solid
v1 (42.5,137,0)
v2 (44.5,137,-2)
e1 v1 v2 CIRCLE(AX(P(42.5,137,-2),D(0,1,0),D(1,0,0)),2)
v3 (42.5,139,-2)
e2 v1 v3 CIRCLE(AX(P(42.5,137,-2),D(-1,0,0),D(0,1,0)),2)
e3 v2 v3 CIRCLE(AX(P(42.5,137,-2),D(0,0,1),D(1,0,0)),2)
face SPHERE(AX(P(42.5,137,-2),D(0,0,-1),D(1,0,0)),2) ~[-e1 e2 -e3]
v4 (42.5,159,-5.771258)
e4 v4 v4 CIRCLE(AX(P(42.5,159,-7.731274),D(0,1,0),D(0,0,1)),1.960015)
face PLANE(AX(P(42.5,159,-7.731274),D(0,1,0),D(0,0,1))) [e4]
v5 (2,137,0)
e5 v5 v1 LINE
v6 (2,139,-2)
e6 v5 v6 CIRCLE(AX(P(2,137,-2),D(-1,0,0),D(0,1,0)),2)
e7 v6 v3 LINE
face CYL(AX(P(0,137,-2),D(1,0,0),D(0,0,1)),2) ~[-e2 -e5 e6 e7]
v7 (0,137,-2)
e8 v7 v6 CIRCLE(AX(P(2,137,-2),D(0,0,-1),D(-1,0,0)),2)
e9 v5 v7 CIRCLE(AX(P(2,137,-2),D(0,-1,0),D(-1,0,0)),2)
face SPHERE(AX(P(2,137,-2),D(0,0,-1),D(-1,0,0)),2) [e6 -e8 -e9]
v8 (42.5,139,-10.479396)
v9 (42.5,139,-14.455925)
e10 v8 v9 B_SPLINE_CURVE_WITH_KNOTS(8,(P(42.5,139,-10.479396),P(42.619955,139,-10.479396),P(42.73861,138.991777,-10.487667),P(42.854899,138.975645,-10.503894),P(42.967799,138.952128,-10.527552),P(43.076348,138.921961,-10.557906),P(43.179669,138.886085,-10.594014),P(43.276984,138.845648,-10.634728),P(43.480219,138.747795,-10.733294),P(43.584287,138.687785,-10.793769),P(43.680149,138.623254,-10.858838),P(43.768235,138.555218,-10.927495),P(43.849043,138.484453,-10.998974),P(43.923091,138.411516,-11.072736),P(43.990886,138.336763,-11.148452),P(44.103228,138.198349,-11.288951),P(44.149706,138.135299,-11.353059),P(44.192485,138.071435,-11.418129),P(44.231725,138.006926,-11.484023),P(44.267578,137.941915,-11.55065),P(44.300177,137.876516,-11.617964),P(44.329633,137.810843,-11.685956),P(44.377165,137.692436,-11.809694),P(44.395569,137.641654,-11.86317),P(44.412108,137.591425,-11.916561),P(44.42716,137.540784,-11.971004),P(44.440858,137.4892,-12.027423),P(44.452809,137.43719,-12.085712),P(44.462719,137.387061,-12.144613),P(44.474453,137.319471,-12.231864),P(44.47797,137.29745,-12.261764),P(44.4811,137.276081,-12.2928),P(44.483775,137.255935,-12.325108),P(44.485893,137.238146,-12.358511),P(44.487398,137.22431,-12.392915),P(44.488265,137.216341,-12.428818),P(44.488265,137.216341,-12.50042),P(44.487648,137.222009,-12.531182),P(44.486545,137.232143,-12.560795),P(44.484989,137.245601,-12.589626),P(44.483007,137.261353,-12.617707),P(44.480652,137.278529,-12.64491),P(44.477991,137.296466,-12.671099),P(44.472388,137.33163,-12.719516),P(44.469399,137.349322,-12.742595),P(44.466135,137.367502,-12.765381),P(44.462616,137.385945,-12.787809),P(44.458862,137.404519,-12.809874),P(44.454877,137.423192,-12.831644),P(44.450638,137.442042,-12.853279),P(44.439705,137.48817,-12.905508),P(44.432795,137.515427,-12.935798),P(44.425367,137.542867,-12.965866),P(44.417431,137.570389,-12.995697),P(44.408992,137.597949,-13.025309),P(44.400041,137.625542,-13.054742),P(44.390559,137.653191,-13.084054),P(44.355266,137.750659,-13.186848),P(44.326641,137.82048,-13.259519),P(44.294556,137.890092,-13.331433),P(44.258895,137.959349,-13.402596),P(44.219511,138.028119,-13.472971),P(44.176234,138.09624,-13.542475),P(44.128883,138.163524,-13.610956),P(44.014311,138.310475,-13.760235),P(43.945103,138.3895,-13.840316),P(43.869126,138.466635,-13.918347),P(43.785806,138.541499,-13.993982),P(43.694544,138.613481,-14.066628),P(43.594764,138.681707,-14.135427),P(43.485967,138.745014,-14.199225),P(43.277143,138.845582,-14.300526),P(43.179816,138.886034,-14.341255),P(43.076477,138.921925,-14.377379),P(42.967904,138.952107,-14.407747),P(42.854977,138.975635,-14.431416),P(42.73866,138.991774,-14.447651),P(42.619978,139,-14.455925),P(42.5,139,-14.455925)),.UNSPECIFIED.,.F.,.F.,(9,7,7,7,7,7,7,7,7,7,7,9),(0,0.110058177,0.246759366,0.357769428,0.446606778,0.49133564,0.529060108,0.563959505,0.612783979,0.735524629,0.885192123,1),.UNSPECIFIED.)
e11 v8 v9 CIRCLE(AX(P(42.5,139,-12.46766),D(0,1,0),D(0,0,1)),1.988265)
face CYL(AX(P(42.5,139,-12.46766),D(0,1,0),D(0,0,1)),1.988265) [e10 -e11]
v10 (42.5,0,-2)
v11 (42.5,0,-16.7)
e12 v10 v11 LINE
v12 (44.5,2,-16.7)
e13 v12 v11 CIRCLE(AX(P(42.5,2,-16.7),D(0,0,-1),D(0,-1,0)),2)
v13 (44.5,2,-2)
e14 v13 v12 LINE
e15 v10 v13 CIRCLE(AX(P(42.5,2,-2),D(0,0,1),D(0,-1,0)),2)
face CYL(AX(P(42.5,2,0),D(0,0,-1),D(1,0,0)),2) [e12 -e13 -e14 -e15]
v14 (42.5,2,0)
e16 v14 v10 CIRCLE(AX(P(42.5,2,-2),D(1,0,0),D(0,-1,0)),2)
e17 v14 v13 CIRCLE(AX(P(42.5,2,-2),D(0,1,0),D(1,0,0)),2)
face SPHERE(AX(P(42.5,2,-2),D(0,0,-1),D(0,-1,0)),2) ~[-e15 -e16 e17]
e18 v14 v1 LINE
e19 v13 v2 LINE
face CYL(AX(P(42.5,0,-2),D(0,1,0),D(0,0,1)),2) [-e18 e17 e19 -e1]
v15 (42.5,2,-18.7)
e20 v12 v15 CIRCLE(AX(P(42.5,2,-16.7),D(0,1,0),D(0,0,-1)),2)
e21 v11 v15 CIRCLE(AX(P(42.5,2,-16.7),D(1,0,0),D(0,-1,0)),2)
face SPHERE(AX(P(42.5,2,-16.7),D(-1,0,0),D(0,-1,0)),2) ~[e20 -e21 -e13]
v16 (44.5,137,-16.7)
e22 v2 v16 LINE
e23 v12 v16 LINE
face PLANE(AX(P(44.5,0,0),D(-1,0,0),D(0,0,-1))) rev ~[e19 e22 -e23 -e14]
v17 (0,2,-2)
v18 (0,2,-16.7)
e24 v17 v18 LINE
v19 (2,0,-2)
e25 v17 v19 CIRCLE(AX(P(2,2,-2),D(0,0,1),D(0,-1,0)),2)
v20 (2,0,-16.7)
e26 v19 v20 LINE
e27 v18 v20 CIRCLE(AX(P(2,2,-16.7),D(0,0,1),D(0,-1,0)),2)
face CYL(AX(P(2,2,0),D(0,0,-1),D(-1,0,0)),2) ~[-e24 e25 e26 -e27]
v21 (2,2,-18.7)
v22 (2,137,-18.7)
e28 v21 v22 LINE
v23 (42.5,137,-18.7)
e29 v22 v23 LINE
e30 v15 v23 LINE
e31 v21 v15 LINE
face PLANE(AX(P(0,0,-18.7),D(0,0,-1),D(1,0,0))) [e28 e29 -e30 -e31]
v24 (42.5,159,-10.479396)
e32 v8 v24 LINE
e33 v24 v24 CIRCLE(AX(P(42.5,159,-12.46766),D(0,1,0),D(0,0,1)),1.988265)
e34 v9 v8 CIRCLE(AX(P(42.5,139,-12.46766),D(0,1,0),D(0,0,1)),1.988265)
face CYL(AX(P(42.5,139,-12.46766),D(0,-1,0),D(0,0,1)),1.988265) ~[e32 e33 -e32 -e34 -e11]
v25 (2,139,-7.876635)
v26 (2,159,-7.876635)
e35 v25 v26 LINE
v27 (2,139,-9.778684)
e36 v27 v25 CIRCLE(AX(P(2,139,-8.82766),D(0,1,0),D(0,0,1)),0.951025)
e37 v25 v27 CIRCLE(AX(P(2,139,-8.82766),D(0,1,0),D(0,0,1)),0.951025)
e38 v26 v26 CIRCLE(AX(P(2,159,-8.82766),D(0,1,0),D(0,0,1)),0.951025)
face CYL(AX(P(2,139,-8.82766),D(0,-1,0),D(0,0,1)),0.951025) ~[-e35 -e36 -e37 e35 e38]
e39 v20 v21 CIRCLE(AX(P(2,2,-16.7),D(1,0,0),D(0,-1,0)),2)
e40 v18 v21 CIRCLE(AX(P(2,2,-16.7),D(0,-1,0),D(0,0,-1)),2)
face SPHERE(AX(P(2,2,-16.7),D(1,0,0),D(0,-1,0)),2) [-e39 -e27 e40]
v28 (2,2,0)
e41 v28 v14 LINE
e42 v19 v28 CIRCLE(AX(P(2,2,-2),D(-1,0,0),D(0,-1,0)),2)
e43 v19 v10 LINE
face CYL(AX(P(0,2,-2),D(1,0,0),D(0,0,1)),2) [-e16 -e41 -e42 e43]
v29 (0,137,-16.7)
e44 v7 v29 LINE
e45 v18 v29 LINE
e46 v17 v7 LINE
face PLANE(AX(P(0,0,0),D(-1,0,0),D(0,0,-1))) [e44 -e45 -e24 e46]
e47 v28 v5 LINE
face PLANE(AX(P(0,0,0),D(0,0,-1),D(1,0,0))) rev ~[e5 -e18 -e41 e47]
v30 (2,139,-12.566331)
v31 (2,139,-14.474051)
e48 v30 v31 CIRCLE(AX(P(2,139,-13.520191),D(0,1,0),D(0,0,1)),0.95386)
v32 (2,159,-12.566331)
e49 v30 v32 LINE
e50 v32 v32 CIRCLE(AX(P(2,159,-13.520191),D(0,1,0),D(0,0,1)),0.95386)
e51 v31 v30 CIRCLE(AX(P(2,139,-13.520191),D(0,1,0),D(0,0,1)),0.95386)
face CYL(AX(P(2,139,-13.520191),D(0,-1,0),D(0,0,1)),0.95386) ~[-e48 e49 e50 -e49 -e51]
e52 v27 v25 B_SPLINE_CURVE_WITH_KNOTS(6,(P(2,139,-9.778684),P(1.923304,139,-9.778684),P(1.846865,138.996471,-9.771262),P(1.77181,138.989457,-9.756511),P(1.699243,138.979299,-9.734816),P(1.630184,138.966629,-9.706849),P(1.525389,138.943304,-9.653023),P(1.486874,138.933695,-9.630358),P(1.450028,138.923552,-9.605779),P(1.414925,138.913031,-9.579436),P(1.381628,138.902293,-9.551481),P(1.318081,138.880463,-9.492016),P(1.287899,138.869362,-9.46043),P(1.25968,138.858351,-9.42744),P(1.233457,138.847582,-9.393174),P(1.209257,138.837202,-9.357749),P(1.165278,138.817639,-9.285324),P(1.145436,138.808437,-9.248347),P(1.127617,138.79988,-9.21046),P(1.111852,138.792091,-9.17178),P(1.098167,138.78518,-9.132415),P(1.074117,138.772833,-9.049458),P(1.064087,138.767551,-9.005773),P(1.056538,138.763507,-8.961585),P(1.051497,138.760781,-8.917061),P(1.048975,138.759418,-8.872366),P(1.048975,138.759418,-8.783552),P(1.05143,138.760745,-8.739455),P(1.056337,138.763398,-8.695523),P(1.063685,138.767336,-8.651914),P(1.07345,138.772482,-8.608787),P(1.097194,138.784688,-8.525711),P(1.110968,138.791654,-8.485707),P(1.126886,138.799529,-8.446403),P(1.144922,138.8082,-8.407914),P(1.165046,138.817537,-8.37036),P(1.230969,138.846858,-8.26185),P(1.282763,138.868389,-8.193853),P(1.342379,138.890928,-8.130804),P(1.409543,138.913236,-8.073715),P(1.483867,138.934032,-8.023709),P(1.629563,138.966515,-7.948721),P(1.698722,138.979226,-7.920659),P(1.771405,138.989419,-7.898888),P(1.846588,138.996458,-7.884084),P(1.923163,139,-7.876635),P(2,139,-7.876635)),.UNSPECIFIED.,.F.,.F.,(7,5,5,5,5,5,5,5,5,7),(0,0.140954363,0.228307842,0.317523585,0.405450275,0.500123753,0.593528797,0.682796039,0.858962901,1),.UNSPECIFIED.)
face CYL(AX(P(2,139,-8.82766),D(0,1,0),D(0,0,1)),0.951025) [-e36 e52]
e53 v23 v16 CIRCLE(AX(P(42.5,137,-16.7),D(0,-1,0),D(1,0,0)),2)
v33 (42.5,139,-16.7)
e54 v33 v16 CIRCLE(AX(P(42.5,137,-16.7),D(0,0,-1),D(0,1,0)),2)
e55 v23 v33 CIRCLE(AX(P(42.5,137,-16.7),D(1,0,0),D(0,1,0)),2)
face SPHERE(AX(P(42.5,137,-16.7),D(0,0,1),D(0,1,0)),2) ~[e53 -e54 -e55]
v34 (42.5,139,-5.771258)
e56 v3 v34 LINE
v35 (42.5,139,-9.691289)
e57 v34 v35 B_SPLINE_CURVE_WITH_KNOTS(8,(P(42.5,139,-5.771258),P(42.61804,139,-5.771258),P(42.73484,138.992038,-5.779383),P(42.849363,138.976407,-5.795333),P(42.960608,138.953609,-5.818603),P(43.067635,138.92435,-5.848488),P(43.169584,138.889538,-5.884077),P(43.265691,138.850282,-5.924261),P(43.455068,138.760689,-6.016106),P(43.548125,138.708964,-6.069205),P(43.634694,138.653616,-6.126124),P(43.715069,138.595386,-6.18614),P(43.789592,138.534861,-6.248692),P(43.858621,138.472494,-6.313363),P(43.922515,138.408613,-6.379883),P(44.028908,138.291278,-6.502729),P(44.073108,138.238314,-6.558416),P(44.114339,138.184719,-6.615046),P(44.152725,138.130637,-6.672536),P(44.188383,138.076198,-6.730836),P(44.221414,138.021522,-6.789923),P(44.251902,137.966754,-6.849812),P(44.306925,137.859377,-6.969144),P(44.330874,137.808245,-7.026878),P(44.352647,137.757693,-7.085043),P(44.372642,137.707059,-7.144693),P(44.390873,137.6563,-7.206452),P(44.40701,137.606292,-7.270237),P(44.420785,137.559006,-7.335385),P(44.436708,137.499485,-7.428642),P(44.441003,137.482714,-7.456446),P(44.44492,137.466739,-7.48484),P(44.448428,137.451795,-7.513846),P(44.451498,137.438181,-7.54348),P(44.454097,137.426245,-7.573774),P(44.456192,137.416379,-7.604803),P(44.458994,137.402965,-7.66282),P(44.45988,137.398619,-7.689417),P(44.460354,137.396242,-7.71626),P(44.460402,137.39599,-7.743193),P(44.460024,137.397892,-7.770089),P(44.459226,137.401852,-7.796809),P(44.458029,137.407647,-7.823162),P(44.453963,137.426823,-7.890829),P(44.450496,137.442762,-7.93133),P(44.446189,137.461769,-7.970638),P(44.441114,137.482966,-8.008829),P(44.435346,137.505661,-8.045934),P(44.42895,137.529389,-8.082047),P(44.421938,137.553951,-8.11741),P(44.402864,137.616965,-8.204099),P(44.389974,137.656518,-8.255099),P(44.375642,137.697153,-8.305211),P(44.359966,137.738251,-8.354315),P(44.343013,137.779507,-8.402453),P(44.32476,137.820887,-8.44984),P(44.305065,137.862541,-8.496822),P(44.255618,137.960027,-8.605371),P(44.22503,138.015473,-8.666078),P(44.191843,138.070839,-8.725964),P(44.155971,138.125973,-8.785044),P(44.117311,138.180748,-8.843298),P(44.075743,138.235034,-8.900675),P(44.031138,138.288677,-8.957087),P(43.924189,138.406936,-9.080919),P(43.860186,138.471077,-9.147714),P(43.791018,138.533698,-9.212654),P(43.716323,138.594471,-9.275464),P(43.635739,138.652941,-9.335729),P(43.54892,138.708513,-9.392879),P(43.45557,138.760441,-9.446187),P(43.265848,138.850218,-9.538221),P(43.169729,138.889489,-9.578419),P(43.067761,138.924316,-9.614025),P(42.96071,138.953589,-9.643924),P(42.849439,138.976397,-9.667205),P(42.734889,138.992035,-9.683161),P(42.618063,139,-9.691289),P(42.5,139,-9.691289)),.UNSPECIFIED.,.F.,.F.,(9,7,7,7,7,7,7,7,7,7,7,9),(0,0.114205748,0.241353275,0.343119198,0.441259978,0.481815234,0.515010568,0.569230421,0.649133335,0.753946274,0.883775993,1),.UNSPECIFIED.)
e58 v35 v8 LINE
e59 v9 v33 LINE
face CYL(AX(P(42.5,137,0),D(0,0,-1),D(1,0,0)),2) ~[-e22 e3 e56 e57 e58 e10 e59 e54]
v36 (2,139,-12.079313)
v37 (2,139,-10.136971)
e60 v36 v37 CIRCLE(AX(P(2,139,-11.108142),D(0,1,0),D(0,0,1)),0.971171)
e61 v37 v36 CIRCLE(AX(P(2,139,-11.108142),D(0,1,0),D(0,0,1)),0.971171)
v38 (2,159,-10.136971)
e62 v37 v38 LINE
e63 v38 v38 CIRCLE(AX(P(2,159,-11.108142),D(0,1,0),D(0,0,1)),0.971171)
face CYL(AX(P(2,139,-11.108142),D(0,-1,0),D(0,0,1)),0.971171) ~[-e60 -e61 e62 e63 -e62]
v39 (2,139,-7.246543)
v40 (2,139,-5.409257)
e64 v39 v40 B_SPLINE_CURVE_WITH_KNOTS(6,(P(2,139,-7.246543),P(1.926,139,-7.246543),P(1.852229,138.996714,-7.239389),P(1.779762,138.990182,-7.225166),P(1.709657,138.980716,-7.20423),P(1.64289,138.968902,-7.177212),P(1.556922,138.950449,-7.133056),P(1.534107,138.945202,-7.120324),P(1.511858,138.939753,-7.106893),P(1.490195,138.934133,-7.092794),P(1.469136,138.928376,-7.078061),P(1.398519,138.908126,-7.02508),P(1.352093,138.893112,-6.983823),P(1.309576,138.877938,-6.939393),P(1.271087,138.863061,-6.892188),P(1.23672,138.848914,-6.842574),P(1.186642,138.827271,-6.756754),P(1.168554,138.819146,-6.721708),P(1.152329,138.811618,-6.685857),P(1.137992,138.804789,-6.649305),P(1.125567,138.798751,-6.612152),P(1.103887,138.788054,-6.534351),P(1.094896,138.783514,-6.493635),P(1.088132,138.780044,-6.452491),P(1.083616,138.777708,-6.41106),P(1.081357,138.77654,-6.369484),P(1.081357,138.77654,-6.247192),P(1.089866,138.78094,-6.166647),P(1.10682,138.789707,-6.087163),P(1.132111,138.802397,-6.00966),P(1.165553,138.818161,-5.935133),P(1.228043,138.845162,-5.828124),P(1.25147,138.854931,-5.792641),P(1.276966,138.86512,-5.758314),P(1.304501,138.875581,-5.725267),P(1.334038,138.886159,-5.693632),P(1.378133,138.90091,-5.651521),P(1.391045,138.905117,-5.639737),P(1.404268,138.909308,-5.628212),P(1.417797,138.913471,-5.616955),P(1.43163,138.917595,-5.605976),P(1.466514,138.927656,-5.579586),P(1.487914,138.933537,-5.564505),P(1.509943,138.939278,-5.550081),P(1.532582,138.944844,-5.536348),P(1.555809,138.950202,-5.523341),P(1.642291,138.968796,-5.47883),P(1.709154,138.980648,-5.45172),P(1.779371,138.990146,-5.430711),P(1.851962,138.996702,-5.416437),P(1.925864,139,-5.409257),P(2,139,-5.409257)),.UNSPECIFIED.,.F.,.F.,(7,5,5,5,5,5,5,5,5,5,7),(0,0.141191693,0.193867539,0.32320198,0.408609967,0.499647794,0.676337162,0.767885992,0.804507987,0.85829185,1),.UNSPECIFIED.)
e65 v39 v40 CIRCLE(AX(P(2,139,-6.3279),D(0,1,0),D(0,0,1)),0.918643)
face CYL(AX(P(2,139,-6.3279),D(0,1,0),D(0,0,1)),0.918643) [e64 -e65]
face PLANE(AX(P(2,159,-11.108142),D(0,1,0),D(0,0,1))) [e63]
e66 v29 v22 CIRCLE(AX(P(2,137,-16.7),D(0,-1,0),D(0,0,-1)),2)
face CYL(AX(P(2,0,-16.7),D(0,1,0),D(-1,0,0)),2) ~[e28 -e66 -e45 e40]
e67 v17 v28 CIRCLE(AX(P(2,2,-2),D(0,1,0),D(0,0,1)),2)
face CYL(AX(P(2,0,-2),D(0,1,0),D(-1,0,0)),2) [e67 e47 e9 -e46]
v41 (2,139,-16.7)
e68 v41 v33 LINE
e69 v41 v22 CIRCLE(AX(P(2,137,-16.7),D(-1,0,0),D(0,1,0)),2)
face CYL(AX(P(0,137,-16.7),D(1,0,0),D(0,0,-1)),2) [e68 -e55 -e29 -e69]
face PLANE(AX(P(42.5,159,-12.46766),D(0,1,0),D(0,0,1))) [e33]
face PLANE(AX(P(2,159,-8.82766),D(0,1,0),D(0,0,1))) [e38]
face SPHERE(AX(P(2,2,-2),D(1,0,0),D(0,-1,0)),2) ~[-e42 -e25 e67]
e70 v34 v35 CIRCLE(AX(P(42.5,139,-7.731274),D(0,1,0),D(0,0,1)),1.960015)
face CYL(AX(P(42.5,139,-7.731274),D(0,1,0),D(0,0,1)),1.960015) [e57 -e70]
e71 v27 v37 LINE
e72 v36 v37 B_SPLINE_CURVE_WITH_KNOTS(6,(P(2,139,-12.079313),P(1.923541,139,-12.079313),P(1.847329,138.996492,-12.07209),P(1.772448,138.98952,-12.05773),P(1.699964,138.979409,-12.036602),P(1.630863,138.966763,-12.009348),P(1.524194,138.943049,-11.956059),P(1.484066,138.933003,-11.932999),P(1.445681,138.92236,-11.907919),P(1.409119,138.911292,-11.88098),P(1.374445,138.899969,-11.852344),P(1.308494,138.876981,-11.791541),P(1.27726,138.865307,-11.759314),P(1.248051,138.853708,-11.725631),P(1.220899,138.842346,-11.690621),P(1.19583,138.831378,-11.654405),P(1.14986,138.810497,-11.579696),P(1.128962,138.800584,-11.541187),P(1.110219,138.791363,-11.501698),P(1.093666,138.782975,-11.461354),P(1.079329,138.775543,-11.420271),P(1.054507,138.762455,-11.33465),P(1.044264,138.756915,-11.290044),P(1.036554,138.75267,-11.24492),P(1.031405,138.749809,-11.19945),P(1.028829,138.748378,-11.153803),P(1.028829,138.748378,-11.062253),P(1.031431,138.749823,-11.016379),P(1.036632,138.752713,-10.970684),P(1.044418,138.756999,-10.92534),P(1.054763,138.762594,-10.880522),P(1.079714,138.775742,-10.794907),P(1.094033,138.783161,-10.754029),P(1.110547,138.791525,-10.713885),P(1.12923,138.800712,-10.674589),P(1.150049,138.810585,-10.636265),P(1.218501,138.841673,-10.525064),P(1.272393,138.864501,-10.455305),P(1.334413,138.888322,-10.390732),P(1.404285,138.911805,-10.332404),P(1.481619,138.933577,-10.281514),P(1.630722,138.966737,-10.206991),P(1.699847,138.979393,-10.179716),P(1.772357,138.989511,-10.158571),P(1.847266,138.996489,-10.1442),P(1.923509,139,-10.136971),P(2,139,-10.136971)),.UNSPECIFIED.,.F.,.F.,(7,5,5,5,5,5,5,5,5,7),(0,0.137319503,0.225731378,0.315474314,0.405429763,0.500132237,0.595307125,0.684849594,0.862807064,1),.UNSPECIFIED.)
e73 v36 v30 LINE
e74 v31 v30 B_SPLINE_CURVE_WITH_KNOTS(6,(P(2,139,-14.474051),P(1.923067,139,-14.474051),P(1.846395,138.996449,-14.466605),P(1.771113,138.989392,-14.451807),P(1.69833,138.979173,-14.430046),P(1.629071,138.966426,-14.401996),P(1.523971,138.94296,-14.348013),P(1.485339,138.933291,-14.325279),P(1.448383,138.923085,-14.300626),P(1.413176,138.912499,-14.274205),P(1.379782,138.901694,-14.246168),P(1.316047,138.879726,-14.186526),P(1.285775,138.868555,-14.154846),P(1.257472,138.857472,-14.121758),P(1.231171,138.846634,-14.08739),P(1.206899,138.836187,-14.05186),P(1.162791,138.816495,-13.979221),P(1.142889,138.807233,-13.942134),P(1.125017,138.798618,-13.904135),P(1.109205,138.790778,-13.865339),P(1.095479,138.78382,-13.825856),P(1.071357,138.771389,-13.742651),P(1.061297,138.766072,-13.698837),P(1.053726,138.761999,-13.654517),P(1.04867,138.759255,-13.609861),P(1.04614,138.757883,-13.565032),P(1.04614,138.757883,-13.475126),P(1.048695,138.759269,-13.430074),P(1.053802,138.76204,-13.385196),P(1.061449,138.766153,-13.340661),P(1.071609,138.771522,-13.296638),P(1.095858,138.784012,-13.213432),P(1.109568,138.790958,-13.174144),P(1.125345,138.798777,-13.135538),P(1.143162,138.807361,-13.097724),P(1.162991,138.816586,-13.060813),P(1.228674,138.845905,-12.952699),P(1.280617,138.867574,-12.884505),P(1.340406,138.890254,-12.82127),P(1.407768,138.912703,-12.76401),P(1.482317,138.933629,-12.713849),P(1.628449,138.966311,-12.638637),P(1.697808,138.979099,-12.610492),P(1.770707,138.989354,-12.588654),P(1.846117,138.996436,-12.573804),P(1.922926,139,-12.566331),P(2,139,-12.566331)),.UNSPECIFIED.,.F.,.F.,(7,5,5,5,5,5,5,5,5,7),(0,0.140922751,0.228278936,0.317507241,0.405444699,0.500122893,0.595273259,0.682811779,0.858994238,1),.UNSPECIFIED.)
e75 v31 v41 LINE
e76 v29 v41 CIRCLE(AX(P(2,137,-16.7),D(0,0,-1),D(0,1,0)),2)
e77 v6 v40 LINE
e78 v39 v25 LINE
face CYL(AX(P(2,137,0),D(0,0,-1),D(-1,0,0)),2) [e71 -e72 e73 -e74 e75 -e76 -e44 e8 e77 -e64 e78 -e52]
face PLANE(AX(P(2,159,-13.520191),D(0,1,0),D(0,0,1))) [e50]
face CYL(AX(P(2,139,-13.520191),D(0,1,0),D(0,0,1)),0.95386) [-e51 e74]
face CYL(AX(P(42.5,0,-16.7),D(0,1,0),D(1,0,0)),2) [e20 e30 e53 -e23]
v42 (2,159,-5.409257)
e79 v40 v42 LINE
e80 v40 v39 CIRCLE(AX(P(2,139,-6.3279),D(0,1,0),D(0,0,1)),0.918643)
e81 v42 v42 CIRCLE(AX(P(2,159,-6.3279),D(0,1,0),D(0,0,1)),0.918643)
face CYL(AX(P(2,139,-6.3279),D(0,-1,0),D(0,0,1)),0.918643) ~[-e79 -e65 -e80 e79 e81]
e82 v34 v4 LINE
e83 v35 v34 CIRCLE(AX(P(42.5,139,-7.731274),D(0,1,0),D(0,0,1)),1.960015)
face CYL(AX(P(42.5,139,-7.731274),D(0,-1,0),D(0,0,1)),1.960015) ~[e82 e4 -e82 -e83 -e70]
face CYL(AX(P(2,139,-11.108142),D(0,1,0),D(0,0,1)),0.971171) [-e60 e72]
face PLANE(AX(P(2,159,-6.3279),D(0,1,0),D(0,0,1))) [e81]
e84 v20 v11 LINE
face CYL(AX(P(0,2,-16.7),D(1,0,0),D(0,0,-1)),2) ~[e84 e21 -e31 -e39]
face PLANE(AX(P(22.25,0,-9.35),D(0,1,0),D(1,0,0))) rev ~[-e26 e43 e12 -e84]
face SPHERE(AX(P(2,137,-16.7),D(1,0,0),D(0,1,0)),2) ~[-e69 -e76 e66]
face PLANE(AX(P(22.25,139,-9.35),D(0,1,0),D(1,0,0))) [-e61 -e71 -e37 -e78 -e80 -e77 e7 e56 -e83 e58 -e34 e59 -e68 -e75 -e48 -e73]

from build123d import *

# Parameters (mm, degrees)
SKETCH1_W                       = 44.5
SKETCH1_H                       = 18.7
BOSS_EXTRUDE1_DEPTH             = 139
FILLET1_R                       = 2
SKETCH2_R                       = 1.960015311
SKETCH2_R_2                     = 1.988264752
SKETCH2_R_3                     = 0.918642691
SKETCH2_R_4                     = 0.97117112
SKETCH2_R_5                     = 0.953860003
SKETCH2_R_6                     = 0.951024876
BOSS_EXTRUDE2_DEPTH             = 20
BOSS_EXTRUDE2_DIRECTION_2_REACH = 149.143


with BuildPart() as part:
    # Sketch1 → Boss-Extrude1 (new body)
    with BuildSketch(Plane(origin=(0, 0, 0), x_dir=(1, 0, 0), z_dir=(0, 1, 0))):
        with Locations((22.25, 9.35)):
            Rectangle(SKETCH1_W, SKETCH1_H)
    extrude(amount=BOSS_EXTRUDE1_DEPTH)

    # Fillet1
    fillet1_edges = [part.edges().sort_by_distance(p)[0] for p in [
        (44.5, 139, -9.35),
        (22.25, 139, -18.7),
        (0, 139, -9.35),
        (22.25, 0, -18.7),
        (44.5, 0, -9.35),
        (22.25, 0, 0),
        (0, 0, -9.35),
        (0, 69.5, -18.7),
        (44.5, 69.5, -18.7),
        (44.5, 69.5, 0),
        (0, 69.5, 0),
        (22.25, 139, 0),
    ]]
    fillet(fillet1_edges, radius=FILLET1_R)

    # Sketch2 → Boss-Extrude2 (add)
    with BuildSketch(Plane(origin=(0, 139, 0), x_dir=(1, 0, 0), z_dir=(0, 1, 0))):
        with Locations(Location((42.5, 7.731273805, 0), (0, 0, 270))):
            Circle(SKETCH2_R)
        with Locations(Location((42.5, 12.467660333, 0), (0, 0, 270))):
            Circle(SKETCH2_R_2)
        with Locations(Location((2, 6.327900019, 0), (0, 0, 270))):
            Circle(SKETCH2_R_3)
        with Locations(Location((2, 11.108141978, 0), (0, 0, 270))):
            Circle(SKETCH2_R_4)
        with Locations(Location((2, 13.520190672, 0), (0, 0, 270))):
            Circle(SKETCH2_R_5)
        with Locations(Location((2, 8.827659575, 0), (0, 0, 270))):
            Circle(SKETCH2_R_6)
    extrude(amount=BOSS_EXTRUDE2_DEPTH)

    # Sketch2 → Boss-Extrude2 direction 2 (add, up to next)
    with BuildSketch(Plane(origin=(0, 139, 0), x_dir=(1, 0, 0), z_dir=(0, 1, 0)), mode=Mode.PRIVATE) as boss_extrude2_direction_2_sk1:
        with Locations(Location((42.5, 7.731273805, 0), (0, 0, 270))):
            Circle(SKETCH2_R)
    boss_extrude2_direction_2_tool1 = extrude(boss_extrude2_direction_2_sk1.sketch, amount=-BOSS_EXTRUDE2_DIRECTION_2_REACH, mode=Mode.PRIVATE) - part.part
    # Sketch2 → Boss-Extrude2 direction 2 (add, up to next)
    with BuildSketch(Plane(origin=(0, 139, 0), x_dir=(1, 0, 0), z_dir=(0, 1, 0)), mode=Mode.PRIVATE) as boss_extrude2_direction_2_sk2:
        with Locations(Location((42.5, 12.467660333, 0), (0, 0, 270))):
            Circle(SKETCH2_R_2)
    boss_extrude2_direction_2_tool2 = extrude(boss_extrude2_direction_2_sk2.sketch, amount=-BOSS_EXTRUDE2_DIRECTION_2_REACH, mode=Mode.PRIVATE) - part.part
    # Sketch2 → Boss-Extrude2 direction 2 (add, up to next)
    with BuildSketch(Plane(origin=(0, 139, 0), x_dir=(1, 0, 0), z_dir=(0, 1, 0)), mode=Mode.PRIVATE) as boss_extrude2_direction_2_sk3:
        with Locations(Location((2, 6.327900019, 0), (0, 0, 270))):
            Circle(SKETCH2_R_3)
    boss_extrude2_direction_2_tool3 = extrude(boss_extrude2_direction_2_sk3.sketch, amount=-BOSS_EXTRUDE2_DIRECTION_2_REACH, mode=Mode.PRIVATE) - part.part
    # Sketch2 → Boss-Extrude2 direction 2 (add, up to next)
    with BuildSketch(Plane(origin=(0, 139, 0), x_dir=(1, 0, 0), z_dir=(0, 1, 0)), mode=Mode.PRIVATE) as boss_extrude2_direction_2_sk4:
        with Locations(Location((2, 11.108141978, 0), (0, 0, 270))):
            Circle(SKETCH2_R_4)
    boss_extrude2_direction_2_tool4 = extrude(boss_extrude2_direction_2_sk4.sketch, amount=-BOSS_EXTRUDE2_DIRECTION_2_REACH, mode=Mode.PRIVATE) - part.part
    # Sketch2 → Boss-Extrude2 direction 2 (add, up to next)
    with BuildSketch(Plane(origin=(0, 139, 0), x_dir=(1, 0, 0), z_dir=(0, 1, 0)), mode=Mode.PRIVATE) as boss_extrude2_direction_2_sk5:
        with Locations(Location((2, 13.520190672, 0), (0, 0, 270))):
            Circle(SKETCH2_R_5)
    boss_extrude2_direction_2_tool5 = extrude(boss_extrude2_direction_2_sk5.sketch, amount=-BOSS_EXTRUDE2_DIRECTION_2_REACH, mode=Mode.PRIVATE) - part.part
    # Sketch2 → Boss-Extrude2 direction 2 (add, up to next)
    with BuildSketch(Plane(origin=(0, 139, 0), x_dir=(1, 0, 0), z_dir=(0, 1, 0)), mode=Mode.PRIVATE) as boss_extrude2_direction_2_sk6:
        with Locations(Location((2, 8.827659575, 0), (0, 0, 270))):
            Circle(SKETCH2_R_6)
    boss_extrude2_direction_2_tool6 = extrude(boss_extrude2_direction_2_sk6.sketch, amount=-BOSS_EXTRUDE2_DIRECTION_2_REACH, mode=Mode.PRIVATE) - part.part
    add(boss_extrude2_direction_2_tool1.solids().sort_by_distance((42.5, 139, -7.731274))[0])
    add(boss_extrude2_direction_2_tool2.solids().sort_by_distance((42.5, 139, -12.46766))[0])
    add(boss_extrude2_direction_2_tool3.solids().sort_by_distance((2, 139, -6.3279))[0])
    add(boss_extrude2_direction_2_tool4.solids().sort_by_distance((2, 139, -11.108142))[0])
    add(boss_extrude2_direction_2_tool5.solids().sort_by_distance((2, 139, -13.520191))[0])
    add(boss_extrude2_direction_2_tool6.solids().sort_by_distance((2, 139, -8.82766))[0])


solid = part.part
